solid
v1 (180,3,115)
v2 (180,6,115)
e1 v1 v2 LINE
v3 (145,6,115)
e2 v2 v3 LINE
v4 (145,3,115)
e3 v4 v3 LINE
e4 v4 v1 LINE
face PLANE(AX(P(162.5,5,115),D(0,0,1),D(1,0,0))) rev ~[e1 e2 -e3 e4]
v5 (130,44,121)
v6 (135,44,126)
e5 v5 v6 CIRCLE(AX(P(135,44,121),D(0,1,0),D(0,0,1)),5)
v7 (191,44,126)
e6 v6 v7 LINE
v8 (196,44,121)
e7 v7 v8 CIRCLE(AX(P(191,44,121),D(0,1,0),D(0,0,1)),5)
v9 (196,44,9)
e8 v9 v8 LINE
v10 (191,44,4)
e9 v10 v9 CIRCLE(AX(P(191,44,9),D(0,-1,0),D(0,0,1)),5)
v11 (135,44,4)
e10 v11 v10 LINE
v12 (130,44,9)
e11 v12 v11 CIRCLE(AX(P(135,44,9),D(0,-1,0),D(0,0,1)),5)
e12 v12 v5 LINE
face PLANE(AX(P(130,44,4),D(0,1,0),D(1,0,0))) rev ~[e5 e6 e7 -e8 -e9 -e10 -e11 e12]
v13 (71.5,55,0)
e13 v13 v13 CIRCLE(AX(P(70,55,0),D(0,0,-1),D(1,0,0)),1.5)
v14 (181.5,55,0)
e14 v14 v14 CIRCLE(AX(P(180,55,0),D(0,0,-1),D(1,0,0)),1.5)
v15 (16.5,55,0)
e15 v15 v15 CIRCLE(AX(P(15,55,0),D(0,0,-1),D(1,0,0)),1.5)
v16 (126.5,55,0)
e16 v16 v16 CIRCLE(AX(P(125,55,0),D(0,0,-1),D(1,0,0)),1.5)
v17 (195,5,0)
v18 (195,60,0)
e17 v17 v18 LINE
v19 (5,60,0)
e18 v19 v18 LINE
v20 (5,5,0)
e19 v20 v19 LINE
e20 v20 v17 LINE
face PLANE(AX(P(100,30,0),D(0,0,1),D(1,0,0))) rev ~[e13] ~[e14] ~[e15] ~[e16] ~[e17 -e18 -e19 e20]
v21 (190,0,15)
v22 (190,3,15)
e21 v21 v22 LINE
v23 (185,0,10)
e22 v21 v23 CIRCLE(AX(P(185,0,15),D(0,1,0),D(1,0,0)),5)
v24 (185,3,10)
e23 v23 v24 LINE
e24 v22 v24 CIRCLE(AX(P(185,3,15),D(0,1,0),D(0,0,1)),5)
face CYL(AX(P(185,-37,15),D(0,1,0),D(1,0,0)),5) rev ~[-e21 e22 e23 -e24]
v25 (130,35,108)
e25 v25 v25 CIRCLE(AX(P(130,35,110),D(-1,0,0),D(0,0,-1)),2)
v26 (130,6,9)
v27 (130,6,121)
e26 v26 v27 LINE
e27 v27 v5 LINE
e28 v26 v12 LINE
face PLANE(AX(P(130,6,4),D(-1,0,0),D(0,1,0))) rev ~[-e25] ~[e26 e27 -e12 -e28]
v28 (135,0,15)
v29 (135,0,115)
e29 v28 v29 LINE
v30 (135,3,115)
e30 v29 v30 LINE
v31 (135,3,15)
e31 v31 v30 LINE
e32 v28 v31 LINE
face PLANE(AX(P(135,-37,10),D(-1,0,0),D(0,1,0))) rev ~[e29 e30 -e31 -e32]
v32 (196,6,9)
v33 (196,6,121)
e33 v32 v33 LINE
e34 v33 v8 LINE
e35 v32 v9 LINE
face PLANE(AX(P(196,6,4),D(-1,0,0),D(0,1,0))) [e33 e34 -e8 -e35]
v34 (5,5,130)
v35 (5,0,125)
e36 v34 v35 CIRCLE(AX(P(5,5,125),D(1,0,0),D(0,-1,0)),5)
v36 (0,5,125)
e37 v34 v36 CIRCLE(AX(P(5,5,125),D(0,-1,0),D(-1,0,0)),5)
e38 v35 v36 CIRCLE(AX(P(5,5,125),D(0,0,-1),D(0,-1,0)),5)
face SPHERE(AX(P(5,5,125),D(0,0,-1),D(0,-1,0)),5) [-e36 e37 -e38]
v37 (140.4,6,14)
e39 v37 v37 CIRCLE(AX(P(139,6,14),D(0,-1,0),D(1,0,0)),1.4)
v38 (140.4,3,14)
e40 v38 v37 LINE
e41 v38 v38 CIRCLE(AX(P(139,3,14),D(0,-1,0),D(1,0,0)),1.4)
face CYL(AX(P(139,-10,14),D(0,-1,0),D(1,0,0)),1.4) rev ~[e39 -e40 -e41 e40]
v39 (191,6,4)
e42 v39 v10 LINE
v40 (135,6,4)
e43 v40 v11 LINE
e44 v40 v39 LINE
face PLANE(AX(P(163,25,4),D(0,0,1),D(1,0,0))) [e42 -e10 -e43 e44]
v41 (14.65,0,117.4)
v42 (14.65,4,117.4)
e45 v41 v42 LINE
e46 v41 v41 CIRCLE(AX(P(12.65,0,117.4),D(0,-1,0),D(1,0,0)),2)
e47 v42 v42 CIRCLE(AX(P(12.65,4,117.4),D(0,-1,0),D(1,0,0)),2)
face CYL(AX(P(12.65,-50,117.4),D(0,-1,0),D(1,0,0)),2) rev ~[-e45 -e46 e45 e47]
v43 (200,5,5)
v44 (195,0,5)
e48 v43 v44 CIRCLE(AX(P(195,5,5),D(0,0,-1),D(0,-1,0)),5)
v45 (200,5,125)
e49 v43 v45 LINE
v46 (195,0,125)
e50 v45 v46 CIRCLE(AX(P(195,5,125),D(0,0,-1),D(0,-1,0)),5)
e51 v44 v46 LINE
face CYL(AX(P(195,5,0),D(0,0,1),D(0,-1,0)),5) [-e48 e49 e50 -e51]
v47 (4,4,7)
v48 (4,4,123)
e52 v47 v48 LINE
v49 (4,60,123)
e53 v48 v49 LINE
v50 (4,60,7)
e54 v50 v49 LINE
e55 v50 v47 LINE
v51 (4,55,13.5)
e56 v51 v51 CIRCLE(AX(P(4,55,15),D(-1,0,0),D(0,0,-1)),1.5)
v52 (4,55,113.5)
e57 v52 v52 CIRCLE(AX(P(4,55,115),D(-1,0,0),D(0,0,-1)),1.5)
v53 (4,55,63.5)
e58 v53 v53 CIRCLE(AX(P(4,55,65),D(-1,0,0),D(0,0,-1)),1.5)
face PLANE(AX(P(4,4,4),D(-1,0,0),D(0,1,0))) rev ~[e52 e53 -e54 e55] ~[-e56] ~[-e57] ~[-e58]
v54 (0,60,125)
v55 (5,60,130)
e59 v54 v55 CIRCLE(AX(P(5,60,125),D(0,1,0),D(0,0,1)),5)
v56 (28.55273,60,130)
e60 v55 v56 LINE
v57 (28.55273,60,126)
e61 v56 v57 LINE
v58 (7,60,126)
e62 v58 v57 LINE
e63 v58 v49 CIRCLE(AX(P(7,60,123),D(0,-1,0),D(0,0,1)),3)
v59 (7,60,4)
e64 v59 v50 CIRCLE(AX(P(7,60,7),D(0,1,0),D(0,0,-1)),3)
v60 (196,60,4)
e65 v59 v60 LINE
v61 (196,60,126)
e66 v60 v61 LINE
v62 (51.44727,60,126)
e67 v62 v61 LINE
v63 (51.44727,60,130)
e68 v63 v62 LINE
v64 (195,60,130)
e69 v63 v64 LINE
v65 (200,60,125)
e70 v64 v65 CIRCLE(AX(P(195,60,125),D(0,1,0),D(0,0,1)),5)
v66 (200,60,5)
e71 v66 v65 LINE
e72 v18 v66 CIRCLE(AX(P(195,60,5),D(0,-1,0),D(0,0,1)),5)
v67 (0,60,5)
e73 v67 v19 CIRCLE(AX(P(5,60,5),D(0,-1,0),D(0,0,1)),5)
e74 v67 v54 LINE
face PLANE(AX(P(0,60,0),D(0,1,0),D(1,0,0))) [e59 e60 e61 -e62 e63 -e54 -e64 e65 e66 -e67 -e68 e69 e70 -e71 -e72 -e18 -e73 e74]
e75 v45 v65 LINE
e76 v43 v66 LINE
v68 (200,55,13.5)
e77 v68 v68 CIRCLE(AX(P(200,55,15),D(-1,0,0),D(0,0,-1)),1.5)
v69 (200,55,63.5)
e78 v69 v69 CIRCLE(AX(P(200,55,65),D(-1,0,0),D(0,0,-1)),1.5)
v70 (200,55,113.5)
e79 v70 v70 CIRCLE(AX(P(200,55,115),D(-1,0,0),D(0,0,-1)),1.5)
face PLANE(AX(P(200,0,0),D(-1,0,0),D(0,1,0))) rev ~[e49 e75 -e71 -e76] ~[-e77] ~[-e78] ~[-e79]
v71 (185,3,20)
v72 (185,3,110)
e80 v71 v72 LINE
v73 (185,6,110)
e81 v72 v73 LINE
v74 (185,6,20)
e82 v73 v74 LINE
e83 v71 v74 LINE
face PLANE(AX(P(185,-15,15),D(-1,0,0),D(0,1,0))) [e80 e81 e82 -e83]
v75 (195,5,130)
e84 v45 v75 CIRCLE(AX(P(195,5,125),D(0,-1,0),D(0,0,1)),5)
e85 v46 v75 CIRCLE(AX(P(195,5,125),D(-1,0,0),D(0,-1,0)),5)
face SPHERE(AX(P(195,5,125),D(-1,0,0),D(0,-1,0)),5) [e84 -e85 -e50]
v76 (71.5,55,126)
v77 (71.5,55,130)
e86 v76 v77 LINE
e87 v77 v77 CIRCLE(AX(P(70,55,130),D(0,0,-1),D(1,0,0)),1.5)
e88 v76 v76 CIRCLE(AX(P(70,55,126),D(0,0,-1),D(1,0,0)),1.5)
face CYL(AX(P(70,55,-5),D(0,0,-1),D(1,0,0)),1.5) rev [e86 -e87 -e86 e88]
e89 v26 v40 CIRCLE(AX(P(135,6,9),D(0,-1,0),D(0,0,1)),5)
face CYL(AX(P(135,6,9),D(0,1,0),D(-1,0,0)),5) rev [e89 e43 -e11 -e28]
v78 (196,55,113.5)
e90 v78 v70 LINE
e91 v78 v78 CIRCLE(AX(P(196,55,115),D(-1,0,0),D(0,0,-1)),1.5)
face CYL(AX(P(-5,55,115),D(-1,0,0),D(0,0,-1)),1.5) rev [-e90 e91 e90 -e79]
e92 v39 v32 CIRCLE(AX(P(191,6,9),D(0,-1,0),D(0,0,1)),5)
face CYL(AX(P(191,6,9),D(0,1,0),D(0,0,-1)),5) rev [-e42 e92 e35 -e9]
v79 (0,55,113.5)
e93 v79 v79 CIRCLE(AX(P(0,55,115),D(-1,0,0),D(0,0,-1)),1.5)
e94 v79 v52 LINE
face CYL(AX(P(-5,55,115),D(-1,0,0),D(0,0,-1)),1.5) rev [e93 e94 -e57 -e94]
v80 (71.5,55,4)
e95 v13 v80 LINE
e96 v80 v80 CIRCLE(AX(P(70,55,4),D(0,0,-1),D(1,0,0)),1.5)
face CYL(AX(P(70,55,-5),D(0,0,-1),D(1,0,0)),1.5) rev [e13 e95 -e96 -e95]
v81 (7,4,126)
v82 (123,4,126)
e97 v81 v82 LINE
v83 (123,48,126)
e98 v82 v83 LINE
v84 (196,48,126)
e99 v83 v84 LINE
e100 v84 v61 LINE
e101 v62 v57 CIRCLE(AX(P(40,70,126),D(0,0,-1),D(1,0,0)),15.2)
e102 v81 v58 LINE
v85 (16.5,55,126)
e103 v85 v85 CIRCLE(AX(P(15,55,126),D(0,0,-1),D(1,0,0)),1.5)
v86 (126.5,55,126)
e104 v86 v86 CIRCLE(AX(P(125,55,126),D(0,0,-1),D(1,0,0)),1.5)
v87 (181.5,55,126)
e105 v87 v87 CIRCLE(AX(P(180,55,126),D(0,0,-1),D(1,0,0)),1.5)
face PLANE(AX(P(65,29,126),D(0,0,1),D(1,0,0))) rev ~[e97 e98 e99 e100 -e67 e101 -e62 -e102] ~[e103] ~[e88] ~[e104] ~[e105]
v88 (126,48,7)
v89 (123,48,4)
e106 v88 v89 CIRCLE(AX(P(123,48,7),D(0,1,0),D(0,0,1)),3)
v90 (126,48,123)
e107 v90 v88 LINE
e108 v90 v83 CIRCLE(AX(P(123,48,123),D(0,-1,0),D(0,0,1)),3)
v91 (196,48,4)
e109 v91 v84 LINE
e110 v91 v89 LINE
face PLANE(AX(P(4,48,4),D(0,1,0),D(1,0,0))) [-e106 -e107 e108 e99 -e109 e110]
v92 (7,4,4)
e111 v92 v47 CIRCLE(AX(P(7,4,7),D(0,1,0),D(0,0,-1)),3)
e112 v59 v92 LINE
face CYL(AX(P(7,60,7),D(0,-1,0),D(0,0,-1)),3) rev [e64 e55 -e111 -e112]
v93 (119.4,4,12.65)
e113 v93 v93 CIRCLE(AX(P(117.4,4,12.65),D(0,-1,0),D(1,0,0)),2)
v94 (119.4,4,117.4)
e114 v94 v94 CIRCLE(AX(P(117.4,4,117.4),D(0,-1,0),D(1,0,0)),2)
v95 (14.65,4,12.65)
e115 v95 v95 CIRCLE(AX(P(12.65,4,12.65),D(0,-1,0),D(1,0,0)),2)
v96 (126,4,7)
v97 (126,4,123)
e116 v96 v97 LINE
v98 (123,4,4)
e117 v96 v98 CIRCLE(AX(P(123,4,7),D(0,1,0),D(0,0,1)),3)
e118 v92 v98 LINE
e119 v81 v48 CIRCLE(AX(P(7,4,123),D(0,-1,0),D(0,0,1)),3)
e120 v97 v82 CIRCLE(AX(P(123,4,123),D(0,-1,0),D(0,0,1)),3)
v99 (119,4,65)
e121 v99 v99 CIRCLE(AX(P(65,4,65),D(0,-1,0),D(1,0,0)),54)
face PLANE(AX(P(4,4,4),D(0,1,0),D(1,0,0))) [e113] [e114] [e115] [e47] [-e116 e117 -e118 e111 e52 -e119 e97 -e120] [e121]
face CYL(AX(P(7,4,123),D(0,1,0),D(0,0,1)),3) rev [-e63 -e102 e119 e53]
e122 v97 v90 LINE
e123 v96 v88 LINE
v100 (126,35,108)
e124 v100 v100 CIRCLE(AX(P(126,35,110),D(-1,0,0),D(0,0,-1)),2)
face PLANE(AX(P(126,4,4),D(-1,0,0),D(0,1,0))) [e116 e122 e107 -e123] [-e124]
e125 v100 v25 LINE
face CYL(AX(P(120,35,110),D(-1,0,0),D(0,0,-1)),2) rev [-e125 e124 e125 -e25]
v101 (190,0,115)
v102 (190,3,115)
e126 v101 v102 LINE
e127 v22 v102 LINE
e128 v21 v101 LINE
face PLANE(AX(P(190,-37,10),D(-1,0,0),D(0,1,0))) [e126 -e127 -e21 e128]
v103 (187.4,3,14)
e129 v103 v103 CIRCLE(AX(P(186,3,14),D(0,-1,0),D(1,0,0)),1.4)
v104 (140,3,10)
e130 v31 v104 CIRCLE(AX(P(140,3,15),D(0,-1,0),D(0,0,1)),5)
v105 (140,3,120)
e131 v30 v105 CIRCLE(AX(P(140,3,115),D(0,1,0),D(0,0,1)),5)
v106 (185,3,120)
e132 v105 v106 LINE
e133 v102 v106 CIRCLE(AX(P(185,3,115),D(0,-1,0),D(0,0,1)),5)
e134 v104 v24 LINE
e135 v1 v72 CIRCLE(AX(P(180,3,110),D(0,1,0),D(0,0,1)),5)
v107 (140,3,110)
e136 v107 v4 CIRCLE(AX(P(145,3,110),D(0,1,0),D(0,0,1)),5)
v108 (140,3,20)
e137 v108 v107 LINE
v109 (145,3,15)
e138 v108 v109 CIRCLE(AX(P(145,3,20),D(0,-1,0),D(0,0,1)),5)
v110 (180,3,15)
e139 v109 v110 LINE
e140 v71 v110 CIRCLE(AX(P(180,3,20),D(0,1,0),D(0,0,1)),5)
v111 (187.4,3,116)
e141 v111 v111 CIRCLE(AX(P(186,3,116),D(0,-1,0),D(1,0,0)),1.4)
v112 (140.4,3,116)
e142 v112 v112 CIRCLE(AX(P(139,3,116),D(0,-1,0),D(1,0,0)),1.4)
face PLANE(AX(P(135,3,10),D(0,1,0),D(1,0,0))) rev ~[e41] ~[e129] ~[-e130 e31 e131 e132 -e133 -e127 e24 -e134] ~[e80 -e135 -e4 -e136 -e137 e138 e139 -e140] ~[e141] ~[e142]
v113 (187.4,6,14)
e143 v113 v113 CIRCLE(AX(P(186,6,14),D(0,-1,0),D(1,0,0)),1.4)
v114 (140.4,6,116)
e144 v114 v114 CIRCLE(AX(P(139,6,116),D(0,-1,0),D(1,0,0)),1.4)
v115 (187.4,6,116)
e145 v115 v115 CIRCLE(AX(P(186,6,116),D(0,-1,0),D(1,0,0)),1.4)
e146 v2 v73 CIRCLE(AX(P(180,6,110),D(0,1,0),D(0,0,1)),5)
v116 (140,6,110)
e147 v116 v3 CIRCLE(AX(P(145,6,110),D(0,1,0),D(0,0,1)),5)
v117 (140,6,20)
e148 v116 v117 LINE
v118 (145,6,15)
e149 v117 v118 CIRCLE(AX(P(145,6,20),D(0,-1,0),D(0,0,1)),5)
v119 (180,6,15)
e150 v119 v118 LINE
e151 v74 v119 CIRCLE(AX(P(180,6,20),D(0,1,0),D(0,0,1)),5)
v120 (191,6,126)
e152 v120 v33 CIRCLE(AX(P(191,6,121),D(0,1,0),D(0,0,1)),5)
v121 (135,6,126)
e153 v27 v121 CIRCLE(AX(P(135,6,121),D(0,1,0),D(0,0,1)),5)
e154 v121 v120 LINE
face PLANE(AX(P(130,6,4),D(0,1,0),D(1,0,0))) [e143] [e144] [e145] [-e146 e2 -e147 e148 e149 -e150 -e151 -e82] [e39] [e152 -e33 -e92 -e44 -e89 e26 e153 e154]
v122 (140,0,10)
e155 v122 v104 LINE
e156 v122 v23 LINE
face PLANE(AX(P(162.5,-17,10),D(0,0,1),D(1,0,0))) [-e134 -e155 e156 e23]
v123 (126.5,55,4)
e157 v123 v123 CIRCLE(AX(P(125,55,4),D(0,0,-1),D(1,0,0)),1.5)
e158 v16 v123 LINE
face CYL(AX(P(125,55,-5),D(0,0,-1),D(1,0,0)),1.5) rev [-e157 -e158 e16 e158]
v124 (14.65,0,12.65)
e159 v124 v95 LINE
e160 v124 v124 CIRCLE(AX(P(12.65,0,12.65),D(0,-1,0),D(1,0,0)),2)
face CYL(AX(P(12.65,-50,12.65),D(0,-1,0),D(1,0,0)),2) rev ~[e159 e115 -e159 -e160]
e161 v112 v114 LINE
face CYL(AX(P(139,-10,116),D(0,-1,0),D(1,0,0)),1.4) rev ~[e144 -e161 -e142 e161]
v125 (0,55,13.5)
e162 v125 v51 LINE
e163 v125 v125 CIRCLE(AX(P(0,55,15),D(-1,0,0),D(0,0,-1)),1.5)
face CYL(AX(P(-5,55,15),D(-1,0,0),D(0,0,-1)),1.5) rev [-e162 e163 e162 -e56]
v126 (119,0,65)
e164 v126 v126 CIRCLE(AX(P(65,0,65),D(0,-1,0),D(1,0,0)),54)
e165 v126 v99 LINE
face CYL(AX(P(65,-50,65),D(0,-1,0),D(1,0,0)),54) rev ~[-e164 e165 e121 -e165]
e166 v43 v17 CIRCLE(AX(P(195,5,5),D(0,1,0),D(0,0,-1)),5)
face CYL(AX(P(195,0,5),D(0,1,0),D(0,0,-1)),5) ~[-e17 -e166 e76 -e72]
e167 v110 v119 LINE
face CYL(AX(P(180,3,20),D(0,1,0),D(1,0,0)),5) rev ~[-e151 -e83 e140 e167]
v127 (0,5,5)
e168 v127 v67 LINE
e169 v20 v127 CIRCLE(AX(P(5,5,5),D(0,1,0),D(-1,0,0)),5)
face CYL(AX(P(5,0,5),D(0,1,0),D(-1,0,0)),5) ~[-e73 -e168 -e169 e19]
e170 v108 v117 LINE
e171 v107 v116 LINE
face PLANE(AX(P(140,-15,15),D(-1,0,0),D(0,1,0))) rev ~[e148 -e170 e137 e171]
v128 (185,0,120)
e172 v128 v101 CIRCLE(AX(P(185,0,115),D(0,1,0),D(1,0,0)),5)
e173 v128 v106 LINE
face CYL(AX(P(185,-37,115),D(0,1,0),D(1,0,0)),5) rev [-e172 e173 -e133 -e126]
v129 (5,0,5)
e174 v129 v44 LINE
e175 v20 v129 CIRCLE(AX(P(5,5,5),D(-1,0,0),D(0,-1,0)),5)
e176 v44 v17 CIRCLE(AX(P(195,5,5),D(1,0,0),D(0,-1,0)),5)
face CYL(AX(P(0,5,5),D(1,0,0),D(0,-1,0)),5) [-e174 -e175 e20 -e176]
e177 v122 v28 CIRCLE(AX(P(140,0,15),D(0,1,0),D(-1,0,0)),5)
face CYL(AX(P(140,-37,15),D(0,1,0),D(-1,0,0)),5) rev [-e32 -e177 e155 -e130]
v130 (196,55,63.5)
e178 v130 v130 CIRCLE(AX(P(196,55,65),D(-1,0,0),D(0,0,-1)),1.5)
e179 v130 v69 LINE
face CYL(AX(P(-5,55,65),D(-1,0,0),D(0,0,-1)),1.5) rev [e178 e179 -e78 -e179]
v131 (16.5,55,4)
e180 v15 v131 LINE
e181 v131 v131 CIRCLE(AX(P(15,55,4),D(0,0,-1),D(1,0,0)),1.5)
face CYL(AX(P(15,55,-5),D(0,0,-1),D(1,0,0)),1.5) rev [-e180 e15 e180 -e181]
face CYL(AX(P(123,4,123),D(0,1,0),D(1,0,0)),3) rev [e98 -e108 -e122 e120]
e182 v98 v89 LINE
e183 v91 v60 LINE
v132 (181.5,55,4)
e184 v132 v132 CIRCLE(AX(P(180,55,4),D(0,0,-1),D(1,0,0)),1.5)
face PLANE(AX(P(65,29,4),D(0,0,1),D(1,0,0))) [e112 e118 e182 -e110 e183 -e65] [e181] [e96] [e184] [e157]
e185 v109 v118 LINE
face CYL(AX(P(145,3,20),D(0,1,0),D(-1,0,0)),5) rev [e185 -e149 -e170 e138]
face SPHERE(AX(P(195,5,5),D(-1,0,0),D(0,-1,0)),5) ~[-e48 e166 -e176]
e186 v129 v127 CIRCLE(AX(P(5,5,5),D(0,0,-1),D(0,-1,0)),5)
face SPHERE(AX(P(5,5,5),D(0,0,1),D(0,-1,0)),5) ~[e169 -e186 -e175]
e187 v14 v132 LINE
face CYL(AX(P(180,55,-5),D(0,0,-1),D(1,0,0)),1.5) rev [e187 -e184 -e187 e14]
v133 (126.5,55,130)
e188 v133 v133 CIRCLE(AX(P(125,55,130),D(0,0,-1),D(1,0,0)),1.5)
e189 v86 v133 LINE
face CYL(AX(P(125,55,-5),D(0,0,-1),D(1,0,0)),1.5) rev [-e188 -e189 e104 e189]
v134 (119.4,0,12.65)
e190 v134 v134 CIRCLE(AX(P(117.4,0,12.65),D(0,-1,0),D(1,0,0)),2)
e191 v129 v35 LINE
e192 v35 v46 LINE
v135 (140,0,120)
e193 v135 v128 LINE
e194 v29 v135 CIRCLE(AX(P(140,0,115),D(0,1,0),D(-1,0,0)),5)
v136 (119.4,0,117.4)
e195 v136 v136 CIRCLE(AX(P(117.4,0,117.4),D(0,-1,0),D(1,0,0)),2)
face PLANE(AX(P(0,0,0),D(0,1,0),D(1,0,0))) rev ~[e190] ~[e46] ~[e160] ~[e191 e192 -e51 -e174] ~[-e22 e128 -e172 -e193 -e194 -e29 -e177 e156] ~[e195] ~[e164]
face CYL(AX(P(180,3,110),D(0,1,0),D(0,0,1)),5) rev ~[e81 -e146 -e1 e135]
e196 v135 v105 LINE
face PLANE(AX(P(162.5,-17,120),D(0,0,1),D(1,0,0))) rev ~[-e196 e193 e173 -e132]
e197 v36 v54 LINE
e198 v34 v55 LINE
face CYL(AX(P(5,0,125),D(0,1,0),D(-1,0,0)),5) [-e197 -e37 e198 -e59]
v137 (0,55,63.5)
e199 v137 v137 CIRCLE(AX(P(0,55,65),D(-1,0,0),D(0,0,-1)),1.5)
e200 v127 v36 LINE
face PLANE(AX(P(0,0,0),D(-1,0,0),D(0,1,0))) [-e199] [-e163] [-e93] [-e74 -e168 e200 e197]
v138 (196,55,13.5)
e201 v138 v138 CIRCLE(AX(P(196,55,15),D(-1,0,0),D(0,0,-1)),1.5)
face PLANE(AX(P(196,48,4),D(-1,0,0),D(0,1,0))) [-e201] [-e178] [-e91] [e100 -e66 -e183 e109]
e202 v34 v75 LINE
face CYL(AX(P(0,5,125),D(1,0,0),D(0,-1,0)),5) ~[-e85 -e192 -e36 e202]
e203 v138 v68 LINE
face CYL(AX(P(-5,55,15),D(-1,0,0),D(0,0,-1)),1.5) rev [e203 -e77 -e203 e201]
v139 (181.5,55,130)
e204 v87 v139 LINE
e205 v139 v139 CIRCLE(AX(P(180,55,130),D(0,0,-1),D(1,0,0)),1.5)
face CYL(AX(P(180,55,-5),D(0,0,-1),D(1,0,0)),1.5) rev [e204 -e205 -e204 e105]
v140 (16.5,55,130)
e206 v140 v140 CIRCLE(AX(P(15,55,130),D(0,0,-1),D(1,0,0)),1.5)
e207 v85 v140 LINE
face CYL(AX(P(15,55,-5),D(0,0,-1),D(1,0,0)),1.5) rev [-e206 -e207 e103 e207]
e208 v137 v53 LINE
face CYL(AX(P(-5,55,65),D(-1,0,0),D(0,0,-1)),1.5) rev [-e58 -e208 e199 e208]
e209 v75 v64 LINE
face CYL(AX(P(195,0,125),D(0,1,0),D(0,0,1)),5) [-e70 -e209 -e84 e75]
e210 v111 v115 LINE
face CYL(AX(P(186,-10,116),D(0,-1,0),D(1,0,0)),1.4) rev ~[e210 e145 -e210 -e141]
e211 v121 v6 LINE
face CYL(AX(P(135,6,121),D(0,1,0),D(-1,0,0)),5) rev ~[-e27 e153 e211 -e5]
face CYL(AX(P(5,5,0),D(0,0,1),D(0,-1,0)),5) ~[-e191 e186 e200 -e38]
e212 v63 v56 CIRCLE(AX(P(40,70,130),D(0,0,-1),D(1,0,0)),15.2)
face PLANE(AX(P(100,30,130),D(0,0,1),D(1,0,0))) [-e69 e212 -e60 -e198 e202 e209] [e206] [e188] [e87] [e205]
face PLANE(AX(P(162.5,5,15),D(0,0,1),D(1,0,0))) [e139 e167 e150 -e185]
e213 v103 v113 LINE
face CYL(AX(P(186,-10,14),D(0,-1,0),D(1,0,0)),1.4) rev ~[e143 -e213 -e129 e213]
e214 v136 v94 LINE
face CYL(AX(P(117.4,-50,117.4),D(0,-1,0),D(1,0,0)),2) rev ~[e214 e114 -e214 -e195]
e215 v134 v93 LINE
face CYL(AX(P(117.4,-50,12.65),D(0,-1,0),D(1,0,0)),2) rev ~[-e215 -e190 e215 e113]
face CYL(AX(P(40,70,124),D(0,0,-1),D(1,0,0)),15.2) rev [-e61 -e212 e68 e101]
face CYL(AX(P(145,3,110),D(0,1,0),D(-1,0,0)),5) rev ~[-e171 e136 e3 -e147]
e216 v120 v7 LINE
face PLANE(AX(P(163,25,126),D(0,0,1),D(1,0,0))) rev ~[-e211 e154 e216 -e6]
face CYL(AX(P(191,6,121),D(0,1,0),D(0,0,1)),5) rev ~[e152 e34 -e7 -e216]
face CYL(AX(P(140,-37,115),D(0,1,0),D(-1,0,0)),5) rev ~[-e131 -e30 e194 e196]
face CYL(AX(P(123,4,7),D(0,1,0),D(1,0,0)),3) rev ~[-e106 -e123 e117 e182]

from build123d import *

# Parameters (mm, degrees)
CYLINDER010_R           = 15.2
CYLINDER010_DEPTH       = 28
CYLINDER008_R           = 1.5
CYLINDER008_DEPTH       = 210
CYLINDER008_PITCH_ANGLE = 90
CYLINDER009_R           = 1.5
CYLINDER009_DEPTH       = 210
CYLINDER009_PITCH_ANGLE = 90
CYLINDER007_R           = 1.5
CYLINDER007_DEPTH       = 210
CYLINDER007_PITCH_ANGLE = 90
CYLINDER004_R           = 1.5
CYLINDER004_DEPTH       = 140
CYLINDER006_R           = 1.5
CYLINDER006_DEPTH       = 140
CYLINDER005_R           = 1.5
CYLINDER005_DEPTH       = 140
CYLINDER003_R           = 1.5
CYLINDER003_DEPTH       = 140
SKETCH002_R             = 1.4
PAD002_DEPTH            = 25
SKETCH001_R             = 54
SKETCH001_R_2           = 2
PAD001_DEPTH            = 100
CYLINDER_R              = 2
CYLINDER_DEPTH          = 30
CYLINDER_PITCH_ANGLE    = 90
BOX008_W                = 192
BOX008_H                = 50
BOX008_DEPTH            = 122
BOX006_W                = 122
BOX006_H                = 50
BOX006_DEPTH            = 122
BOX003_W                = 66
BOX003_H                = 38
BOX003_DEPTH            = 122
BOX005_W                = 45
BOX005_H                = 40
BOX005_DEPTH            = 100
BOX004_W                = 55
BOX004_H                = 40
BOX004_DEPTH            = 110
FILLET001_R             = 5
SKETCH_W                = 200
SKETCH_H                = 60
PAD_DEPTH               = 130
FILLET_R                = 5
FILLET002_R             = 5
FILLET003_R             = 3


with BuildPart() as cylinder010:
    # Cylinder010 → Cylinder010 (new body)
    with BuildSketch(Plane(origin=(40, 70, 124), x_dir=(1, 0, 0), z_dir=(0, 0, 1))):
        Circle(CYLINDER010_R)
    extrude(amount=CYLINDER010_DEPTH)


with BuildPart() as cylinder008:
    # Cylinder008 → Cylinder008 (new body)
    with BuildSketch(Plane.XY):
        Circle(CYLINDER008_R)
    extrude(amount=CYLINDER008_DEPTH)


with BuildPart() as cylinder008_1:
    # Cylinder008 pitch: moved
    add(cylinder008.part.rotate(Axis((0, 0, 0), (0, 1, 0)), CYLINDER008_PITCH_ANGLE))


with BuildPart() as cylinder008_2:
    # Cylinder008 placement: moved
    add(cylinder008_1.part.moved(Location((-5, 0, 115))))


with BuildPart() as cylinder009:
    # Cylinder009 → Cylinder009 (new body)
    with BuildSketch(Plane.XY):
        Circle(CYLINDER009_R)
    extrude(amount=CYLINDER009_DEPTH)


with BuildPart() as cylinder009_1:
    # Cylinder009 pitch: moved
    add(cylinder009.part.rotate(Axis((0, 0, 0), (0, 1, 0)), CYLINDER009_PITCH_ANGLE))


with BuildPart() as cylinder009_2:
    # Cylinder009 placement: moved
    add(cylinder009_1.part.moved(Location((-5, 0, 65))))


with BuildPart() as fusion006:
    # Cylinder007 → Cylinder007 (new body)
    with BuildSketch(Plane.XY):
        Circle(CYLINDER007_R)
    extrude(amount=CYLINDER007_DEPTH)


with BuildPart() as fusion006_1:
    # Cylinder007 pitch: moved
    add(fusion006.part.rotate(Axis((0, 0, 0), (0, 1, 0)), CYLINDER007_PITCH_ANGLE))


with BuildPart() as fusion006_2:
    # Cylinder007 placement: moved
    add(fusion006_1.part.moved(Location((-5, 0, 15))))

    # Fusion006: union Cylinder008, Cylinder009
    add(cylinder008_2.part)
    add(cylinder009_2.part)


with BuildPart() as cylinder004:
    # Cylinder004 → Cylinder004 (new body)
    with BuildSketch(Plane(origin=(180, 0, -5), x_dir=(1, 0, 0), z_dir=(0, 0, 1))):
        Circle(CYLINDER004_R)
    extrude(amount=CYLINDER004_DEPTH)


with BuildPart() as cylinder006:
    # Cylinder006 → Cylinder006 (new body)
    with BuildSketch(Plane(origin=(125, 0, -5), x_dir=(1, 0, 0), z_dir=(0, 0, 1))):
        Circle(CYLINDER006_R)
    extrude(amount=CYLINDER006_DEPTH)


with BuildPart() as cylinder005:
    # Cylinder005 → Cylinder005 (new body)
    with BuildSketch(Plane(origin=(70, 0, -5), x_dir=(1, 0, 0), z_dir=(0, 0, 1))):
        Circle(CYLINDER005_R)
    extrude(amount=CYLINDER005_DEPTH)


with BuildPart() as fusion007:
    # Cylinder003 → Cylinder003 (new body)
    with BuildSketch(Plane(origin=(15, 0, -5), x_dir=(1, 0, 0), z_dir=(0, 0, 1))):
        Circle(CYLINDER003_R)
    extrude(amount=CYLINDER003_DEPTH)

    # Fusion005: union Cylinder004, Cylinder006, Cylinder005
    add(cylinder004.part)
    add(cylinder006.part)
    add(cylinder005.part)

    # Fusion007: union Fusion006
    add(fusion006_2.part)


with BuildPart() as fusion007_1:
    # Fusion007 placement: moved
    add(fusion007.part.moved(Location((0, 55, 0))))


with BuildPart() as pad002:
    # Sketch002 → Pad002 (new body)
    with BuildSketch(Plane.XZ.offset(10)):
        with Locations((139, 116)):
            Circle(SKETCH002_R)
        with Locations((186, 116)):
            Circle(SKETCH002_R)
        with Locations((139, 14)):
            Circle(SKETCH002_R)
        with Locations((186, 14)):
            Circle(SKETCH002_R)
    extrude(amount=-PAD002_DEPTH)


with BuildPart() as pad001:
    # Sketch001 → Pad001 (new body)
    with BuildSketch(Plane.XZ.offset(50)):
        with Locations((65, 65)):
            Circle(SKETCH001_R)
        with Locations((12.65, 117.4)):
            Circle(SKETCH001_R_2)
        with Locations((117.4, 117.4)):
            Circle(SKETCH001_R_2)
        with Locations((117.4, 12.65)):
            Circle(SKETCH001_R_2)
        with Locations((12.65, 12.65)):
            Circle(SKETCH001_R_2)
    extrude(amount=-PAD001_DEPTH)


with BuildPart() as cylinder:
    # Cylinder → Cylinder (new body)
    with BuildSketch(Plane.XY):
        Circle(CYLINDER_R)
    extrude(amount=CYLINDER_DEPTH)


with BuildPart() as cylinder_1:
    # Cylinder pitch: moved
    add(cylinder.part.rotate(Axis((0, 0, 0), (0, 1, 0)), CYLINDER_PITCH_ANGLE))


with BuildPart() as cylinder_2:
    # Cylinder placement: moved
    add(cylinder_1.part.moved(Location((120, 35, 110))))


with BuildPart() as cube008:
    # Box008 → Box008 (new body)
    with BuildSketch(Plane(origin=(4, 48, 4), x_dir=(1, 0, 0), z_dir=(0, 0, 1))):
        with Locations((96, 25)):
            Rectangle(BOX008_W, BOX008_H)
    extrude(amount=BOX008_DEPTH)


with BuildPart() as fusion003:
    # Box006 → Box006 (new body)
    with BuildSketch(Plane(origin=(4, 4, 4), x_dir=(1, 0, 0), z_dir=(0, 0, 1))):
        with Locations((61, 25)):
            Rectangle(BOX006_W, BOX006_H)
    extrude(amount=BOX006_DEPTH)

    # Fusion003: union Cube008
    add(cube008.part)


with BuildPart() as cube003:
    # Box003 → Box003 (new body)
    with BuildSketch(Plane(origin=(130, 6, 4), x_dir=(1, 0, 0), z_dir=(0, 0, 1))):
        with Locations((33, 19)):
            Rectangle(BOX003_W, BOX003_H)
    extrude(amount=BOX003_DEPTH)


with BuildPart() as cube005:
    # Box005 → Box005 (new body)
    with BuildSketch(Plane(origin=(140, -15, 15), x_dir=(1, 0, 0), z_dir=(0, 0, 1))):
        with Locations((22.5, 20)):
            Rectangle(BOX005_W, BOX005_H)
    extrude(amount=BOX005_DEPTH)


with BuildPart() as fusion002:
    # Box004 → Box004 (new body)
    with BuildSketch(Plane(origin=(135, -37, 10), x_dir=(1, 0, 0), z_dir=(0, 0, 1))):
        with Locations((27.5, 20)):
            Rectangle(BOX004_W, BOX004_H)
    extrude(amount=BOX004_DEPTH)

    # Fillet001
    fillet001_edges = [fusion002.edges().sort_by_distance(p)[0] for p in [
        (135, -17, 120),
        (135, -17, 10),
        (190, -17, 120),
        (190, -17, 10),
    ]]
    fillet(fillet001_edges, radius=FILLET001_R)

    # Fusion002: union Cube005
    add(cube005.part)


with BuildPart() as cut011:
    # Sketch → Pad (new body)
    with BuildSketch(Plane.XY):
        with Locations((100, 30)):
            Rectangle(SKETCH_W, SKETCH_H)
    extrude(amount=PAD_DEPTH)

    # Cut: cut Fusion002
    add(fusion002.part, mode=Mode.SUBTRACT)

    # Cut001: cut Cube003
    add(cube003.part, mode=Mode.SUBTRACT)

    # Fillet
    fillet_edges = [cut011.edges().sort_by_distance(p)[0] for p in [
        (140, 4.5, 115),
        (185, 4.5, 115),
        (185, 4.5, 15),
        (140, 4.5, 15),
    ]]
    fillet(fillet_edges, radius=FILLET_R)

    # Fillet002
    fillet002_edges = [cut011.edges().sort_by_distance(p)[0] for p in [
        (0, 0, 65),
        (100, 0, 0),
        (100, 0, 130),
        (200, 0, 65),
        (130, 25, 4),
        (196, 25, 4),
        (196, 25, 126),
        (130, 25, 126),
        (0, 30, 0),
        (0, 30, 130),
        (200, 30, 0),
        (200, 30, 130),
    ]]
    fillet(fillet002_edges, radius=FILLET002_R)

    # Cut002: cut Fusion003
    add(fusion003.part, mode=Mode.SUBTRACT)

    # Cut003: cut Cylinder
    add(cylinder_2.part, mode=Mode.SUBTRACT)

    # Fillet003
    fillet003_edges = [cut011.edges().sort_by_distance(p)[0] for p in [
        (126, 26, 126),
        (126, 26, 4),
        (4, 32, 126),
        (4, 32, 4),
    ]]
    fillet(fillet003_edges, radius=FILLET003_R)

    # Cut004: cut Pad001
    add(pad001.part, mode=Mode.SUBTRACT)

    # Cut005: cut Pad002
    add(pad002.part, mode=Mode.SUBTRACT)

    # Cut007: cut Fusion007
    add(fusion007_1.part, mode=Mode.SUBTRACT)

    # Cut011: cut Cylinder010
    add(cylinder010.part, mode=Mode.SUBTRACT)


solid = cut011.part
